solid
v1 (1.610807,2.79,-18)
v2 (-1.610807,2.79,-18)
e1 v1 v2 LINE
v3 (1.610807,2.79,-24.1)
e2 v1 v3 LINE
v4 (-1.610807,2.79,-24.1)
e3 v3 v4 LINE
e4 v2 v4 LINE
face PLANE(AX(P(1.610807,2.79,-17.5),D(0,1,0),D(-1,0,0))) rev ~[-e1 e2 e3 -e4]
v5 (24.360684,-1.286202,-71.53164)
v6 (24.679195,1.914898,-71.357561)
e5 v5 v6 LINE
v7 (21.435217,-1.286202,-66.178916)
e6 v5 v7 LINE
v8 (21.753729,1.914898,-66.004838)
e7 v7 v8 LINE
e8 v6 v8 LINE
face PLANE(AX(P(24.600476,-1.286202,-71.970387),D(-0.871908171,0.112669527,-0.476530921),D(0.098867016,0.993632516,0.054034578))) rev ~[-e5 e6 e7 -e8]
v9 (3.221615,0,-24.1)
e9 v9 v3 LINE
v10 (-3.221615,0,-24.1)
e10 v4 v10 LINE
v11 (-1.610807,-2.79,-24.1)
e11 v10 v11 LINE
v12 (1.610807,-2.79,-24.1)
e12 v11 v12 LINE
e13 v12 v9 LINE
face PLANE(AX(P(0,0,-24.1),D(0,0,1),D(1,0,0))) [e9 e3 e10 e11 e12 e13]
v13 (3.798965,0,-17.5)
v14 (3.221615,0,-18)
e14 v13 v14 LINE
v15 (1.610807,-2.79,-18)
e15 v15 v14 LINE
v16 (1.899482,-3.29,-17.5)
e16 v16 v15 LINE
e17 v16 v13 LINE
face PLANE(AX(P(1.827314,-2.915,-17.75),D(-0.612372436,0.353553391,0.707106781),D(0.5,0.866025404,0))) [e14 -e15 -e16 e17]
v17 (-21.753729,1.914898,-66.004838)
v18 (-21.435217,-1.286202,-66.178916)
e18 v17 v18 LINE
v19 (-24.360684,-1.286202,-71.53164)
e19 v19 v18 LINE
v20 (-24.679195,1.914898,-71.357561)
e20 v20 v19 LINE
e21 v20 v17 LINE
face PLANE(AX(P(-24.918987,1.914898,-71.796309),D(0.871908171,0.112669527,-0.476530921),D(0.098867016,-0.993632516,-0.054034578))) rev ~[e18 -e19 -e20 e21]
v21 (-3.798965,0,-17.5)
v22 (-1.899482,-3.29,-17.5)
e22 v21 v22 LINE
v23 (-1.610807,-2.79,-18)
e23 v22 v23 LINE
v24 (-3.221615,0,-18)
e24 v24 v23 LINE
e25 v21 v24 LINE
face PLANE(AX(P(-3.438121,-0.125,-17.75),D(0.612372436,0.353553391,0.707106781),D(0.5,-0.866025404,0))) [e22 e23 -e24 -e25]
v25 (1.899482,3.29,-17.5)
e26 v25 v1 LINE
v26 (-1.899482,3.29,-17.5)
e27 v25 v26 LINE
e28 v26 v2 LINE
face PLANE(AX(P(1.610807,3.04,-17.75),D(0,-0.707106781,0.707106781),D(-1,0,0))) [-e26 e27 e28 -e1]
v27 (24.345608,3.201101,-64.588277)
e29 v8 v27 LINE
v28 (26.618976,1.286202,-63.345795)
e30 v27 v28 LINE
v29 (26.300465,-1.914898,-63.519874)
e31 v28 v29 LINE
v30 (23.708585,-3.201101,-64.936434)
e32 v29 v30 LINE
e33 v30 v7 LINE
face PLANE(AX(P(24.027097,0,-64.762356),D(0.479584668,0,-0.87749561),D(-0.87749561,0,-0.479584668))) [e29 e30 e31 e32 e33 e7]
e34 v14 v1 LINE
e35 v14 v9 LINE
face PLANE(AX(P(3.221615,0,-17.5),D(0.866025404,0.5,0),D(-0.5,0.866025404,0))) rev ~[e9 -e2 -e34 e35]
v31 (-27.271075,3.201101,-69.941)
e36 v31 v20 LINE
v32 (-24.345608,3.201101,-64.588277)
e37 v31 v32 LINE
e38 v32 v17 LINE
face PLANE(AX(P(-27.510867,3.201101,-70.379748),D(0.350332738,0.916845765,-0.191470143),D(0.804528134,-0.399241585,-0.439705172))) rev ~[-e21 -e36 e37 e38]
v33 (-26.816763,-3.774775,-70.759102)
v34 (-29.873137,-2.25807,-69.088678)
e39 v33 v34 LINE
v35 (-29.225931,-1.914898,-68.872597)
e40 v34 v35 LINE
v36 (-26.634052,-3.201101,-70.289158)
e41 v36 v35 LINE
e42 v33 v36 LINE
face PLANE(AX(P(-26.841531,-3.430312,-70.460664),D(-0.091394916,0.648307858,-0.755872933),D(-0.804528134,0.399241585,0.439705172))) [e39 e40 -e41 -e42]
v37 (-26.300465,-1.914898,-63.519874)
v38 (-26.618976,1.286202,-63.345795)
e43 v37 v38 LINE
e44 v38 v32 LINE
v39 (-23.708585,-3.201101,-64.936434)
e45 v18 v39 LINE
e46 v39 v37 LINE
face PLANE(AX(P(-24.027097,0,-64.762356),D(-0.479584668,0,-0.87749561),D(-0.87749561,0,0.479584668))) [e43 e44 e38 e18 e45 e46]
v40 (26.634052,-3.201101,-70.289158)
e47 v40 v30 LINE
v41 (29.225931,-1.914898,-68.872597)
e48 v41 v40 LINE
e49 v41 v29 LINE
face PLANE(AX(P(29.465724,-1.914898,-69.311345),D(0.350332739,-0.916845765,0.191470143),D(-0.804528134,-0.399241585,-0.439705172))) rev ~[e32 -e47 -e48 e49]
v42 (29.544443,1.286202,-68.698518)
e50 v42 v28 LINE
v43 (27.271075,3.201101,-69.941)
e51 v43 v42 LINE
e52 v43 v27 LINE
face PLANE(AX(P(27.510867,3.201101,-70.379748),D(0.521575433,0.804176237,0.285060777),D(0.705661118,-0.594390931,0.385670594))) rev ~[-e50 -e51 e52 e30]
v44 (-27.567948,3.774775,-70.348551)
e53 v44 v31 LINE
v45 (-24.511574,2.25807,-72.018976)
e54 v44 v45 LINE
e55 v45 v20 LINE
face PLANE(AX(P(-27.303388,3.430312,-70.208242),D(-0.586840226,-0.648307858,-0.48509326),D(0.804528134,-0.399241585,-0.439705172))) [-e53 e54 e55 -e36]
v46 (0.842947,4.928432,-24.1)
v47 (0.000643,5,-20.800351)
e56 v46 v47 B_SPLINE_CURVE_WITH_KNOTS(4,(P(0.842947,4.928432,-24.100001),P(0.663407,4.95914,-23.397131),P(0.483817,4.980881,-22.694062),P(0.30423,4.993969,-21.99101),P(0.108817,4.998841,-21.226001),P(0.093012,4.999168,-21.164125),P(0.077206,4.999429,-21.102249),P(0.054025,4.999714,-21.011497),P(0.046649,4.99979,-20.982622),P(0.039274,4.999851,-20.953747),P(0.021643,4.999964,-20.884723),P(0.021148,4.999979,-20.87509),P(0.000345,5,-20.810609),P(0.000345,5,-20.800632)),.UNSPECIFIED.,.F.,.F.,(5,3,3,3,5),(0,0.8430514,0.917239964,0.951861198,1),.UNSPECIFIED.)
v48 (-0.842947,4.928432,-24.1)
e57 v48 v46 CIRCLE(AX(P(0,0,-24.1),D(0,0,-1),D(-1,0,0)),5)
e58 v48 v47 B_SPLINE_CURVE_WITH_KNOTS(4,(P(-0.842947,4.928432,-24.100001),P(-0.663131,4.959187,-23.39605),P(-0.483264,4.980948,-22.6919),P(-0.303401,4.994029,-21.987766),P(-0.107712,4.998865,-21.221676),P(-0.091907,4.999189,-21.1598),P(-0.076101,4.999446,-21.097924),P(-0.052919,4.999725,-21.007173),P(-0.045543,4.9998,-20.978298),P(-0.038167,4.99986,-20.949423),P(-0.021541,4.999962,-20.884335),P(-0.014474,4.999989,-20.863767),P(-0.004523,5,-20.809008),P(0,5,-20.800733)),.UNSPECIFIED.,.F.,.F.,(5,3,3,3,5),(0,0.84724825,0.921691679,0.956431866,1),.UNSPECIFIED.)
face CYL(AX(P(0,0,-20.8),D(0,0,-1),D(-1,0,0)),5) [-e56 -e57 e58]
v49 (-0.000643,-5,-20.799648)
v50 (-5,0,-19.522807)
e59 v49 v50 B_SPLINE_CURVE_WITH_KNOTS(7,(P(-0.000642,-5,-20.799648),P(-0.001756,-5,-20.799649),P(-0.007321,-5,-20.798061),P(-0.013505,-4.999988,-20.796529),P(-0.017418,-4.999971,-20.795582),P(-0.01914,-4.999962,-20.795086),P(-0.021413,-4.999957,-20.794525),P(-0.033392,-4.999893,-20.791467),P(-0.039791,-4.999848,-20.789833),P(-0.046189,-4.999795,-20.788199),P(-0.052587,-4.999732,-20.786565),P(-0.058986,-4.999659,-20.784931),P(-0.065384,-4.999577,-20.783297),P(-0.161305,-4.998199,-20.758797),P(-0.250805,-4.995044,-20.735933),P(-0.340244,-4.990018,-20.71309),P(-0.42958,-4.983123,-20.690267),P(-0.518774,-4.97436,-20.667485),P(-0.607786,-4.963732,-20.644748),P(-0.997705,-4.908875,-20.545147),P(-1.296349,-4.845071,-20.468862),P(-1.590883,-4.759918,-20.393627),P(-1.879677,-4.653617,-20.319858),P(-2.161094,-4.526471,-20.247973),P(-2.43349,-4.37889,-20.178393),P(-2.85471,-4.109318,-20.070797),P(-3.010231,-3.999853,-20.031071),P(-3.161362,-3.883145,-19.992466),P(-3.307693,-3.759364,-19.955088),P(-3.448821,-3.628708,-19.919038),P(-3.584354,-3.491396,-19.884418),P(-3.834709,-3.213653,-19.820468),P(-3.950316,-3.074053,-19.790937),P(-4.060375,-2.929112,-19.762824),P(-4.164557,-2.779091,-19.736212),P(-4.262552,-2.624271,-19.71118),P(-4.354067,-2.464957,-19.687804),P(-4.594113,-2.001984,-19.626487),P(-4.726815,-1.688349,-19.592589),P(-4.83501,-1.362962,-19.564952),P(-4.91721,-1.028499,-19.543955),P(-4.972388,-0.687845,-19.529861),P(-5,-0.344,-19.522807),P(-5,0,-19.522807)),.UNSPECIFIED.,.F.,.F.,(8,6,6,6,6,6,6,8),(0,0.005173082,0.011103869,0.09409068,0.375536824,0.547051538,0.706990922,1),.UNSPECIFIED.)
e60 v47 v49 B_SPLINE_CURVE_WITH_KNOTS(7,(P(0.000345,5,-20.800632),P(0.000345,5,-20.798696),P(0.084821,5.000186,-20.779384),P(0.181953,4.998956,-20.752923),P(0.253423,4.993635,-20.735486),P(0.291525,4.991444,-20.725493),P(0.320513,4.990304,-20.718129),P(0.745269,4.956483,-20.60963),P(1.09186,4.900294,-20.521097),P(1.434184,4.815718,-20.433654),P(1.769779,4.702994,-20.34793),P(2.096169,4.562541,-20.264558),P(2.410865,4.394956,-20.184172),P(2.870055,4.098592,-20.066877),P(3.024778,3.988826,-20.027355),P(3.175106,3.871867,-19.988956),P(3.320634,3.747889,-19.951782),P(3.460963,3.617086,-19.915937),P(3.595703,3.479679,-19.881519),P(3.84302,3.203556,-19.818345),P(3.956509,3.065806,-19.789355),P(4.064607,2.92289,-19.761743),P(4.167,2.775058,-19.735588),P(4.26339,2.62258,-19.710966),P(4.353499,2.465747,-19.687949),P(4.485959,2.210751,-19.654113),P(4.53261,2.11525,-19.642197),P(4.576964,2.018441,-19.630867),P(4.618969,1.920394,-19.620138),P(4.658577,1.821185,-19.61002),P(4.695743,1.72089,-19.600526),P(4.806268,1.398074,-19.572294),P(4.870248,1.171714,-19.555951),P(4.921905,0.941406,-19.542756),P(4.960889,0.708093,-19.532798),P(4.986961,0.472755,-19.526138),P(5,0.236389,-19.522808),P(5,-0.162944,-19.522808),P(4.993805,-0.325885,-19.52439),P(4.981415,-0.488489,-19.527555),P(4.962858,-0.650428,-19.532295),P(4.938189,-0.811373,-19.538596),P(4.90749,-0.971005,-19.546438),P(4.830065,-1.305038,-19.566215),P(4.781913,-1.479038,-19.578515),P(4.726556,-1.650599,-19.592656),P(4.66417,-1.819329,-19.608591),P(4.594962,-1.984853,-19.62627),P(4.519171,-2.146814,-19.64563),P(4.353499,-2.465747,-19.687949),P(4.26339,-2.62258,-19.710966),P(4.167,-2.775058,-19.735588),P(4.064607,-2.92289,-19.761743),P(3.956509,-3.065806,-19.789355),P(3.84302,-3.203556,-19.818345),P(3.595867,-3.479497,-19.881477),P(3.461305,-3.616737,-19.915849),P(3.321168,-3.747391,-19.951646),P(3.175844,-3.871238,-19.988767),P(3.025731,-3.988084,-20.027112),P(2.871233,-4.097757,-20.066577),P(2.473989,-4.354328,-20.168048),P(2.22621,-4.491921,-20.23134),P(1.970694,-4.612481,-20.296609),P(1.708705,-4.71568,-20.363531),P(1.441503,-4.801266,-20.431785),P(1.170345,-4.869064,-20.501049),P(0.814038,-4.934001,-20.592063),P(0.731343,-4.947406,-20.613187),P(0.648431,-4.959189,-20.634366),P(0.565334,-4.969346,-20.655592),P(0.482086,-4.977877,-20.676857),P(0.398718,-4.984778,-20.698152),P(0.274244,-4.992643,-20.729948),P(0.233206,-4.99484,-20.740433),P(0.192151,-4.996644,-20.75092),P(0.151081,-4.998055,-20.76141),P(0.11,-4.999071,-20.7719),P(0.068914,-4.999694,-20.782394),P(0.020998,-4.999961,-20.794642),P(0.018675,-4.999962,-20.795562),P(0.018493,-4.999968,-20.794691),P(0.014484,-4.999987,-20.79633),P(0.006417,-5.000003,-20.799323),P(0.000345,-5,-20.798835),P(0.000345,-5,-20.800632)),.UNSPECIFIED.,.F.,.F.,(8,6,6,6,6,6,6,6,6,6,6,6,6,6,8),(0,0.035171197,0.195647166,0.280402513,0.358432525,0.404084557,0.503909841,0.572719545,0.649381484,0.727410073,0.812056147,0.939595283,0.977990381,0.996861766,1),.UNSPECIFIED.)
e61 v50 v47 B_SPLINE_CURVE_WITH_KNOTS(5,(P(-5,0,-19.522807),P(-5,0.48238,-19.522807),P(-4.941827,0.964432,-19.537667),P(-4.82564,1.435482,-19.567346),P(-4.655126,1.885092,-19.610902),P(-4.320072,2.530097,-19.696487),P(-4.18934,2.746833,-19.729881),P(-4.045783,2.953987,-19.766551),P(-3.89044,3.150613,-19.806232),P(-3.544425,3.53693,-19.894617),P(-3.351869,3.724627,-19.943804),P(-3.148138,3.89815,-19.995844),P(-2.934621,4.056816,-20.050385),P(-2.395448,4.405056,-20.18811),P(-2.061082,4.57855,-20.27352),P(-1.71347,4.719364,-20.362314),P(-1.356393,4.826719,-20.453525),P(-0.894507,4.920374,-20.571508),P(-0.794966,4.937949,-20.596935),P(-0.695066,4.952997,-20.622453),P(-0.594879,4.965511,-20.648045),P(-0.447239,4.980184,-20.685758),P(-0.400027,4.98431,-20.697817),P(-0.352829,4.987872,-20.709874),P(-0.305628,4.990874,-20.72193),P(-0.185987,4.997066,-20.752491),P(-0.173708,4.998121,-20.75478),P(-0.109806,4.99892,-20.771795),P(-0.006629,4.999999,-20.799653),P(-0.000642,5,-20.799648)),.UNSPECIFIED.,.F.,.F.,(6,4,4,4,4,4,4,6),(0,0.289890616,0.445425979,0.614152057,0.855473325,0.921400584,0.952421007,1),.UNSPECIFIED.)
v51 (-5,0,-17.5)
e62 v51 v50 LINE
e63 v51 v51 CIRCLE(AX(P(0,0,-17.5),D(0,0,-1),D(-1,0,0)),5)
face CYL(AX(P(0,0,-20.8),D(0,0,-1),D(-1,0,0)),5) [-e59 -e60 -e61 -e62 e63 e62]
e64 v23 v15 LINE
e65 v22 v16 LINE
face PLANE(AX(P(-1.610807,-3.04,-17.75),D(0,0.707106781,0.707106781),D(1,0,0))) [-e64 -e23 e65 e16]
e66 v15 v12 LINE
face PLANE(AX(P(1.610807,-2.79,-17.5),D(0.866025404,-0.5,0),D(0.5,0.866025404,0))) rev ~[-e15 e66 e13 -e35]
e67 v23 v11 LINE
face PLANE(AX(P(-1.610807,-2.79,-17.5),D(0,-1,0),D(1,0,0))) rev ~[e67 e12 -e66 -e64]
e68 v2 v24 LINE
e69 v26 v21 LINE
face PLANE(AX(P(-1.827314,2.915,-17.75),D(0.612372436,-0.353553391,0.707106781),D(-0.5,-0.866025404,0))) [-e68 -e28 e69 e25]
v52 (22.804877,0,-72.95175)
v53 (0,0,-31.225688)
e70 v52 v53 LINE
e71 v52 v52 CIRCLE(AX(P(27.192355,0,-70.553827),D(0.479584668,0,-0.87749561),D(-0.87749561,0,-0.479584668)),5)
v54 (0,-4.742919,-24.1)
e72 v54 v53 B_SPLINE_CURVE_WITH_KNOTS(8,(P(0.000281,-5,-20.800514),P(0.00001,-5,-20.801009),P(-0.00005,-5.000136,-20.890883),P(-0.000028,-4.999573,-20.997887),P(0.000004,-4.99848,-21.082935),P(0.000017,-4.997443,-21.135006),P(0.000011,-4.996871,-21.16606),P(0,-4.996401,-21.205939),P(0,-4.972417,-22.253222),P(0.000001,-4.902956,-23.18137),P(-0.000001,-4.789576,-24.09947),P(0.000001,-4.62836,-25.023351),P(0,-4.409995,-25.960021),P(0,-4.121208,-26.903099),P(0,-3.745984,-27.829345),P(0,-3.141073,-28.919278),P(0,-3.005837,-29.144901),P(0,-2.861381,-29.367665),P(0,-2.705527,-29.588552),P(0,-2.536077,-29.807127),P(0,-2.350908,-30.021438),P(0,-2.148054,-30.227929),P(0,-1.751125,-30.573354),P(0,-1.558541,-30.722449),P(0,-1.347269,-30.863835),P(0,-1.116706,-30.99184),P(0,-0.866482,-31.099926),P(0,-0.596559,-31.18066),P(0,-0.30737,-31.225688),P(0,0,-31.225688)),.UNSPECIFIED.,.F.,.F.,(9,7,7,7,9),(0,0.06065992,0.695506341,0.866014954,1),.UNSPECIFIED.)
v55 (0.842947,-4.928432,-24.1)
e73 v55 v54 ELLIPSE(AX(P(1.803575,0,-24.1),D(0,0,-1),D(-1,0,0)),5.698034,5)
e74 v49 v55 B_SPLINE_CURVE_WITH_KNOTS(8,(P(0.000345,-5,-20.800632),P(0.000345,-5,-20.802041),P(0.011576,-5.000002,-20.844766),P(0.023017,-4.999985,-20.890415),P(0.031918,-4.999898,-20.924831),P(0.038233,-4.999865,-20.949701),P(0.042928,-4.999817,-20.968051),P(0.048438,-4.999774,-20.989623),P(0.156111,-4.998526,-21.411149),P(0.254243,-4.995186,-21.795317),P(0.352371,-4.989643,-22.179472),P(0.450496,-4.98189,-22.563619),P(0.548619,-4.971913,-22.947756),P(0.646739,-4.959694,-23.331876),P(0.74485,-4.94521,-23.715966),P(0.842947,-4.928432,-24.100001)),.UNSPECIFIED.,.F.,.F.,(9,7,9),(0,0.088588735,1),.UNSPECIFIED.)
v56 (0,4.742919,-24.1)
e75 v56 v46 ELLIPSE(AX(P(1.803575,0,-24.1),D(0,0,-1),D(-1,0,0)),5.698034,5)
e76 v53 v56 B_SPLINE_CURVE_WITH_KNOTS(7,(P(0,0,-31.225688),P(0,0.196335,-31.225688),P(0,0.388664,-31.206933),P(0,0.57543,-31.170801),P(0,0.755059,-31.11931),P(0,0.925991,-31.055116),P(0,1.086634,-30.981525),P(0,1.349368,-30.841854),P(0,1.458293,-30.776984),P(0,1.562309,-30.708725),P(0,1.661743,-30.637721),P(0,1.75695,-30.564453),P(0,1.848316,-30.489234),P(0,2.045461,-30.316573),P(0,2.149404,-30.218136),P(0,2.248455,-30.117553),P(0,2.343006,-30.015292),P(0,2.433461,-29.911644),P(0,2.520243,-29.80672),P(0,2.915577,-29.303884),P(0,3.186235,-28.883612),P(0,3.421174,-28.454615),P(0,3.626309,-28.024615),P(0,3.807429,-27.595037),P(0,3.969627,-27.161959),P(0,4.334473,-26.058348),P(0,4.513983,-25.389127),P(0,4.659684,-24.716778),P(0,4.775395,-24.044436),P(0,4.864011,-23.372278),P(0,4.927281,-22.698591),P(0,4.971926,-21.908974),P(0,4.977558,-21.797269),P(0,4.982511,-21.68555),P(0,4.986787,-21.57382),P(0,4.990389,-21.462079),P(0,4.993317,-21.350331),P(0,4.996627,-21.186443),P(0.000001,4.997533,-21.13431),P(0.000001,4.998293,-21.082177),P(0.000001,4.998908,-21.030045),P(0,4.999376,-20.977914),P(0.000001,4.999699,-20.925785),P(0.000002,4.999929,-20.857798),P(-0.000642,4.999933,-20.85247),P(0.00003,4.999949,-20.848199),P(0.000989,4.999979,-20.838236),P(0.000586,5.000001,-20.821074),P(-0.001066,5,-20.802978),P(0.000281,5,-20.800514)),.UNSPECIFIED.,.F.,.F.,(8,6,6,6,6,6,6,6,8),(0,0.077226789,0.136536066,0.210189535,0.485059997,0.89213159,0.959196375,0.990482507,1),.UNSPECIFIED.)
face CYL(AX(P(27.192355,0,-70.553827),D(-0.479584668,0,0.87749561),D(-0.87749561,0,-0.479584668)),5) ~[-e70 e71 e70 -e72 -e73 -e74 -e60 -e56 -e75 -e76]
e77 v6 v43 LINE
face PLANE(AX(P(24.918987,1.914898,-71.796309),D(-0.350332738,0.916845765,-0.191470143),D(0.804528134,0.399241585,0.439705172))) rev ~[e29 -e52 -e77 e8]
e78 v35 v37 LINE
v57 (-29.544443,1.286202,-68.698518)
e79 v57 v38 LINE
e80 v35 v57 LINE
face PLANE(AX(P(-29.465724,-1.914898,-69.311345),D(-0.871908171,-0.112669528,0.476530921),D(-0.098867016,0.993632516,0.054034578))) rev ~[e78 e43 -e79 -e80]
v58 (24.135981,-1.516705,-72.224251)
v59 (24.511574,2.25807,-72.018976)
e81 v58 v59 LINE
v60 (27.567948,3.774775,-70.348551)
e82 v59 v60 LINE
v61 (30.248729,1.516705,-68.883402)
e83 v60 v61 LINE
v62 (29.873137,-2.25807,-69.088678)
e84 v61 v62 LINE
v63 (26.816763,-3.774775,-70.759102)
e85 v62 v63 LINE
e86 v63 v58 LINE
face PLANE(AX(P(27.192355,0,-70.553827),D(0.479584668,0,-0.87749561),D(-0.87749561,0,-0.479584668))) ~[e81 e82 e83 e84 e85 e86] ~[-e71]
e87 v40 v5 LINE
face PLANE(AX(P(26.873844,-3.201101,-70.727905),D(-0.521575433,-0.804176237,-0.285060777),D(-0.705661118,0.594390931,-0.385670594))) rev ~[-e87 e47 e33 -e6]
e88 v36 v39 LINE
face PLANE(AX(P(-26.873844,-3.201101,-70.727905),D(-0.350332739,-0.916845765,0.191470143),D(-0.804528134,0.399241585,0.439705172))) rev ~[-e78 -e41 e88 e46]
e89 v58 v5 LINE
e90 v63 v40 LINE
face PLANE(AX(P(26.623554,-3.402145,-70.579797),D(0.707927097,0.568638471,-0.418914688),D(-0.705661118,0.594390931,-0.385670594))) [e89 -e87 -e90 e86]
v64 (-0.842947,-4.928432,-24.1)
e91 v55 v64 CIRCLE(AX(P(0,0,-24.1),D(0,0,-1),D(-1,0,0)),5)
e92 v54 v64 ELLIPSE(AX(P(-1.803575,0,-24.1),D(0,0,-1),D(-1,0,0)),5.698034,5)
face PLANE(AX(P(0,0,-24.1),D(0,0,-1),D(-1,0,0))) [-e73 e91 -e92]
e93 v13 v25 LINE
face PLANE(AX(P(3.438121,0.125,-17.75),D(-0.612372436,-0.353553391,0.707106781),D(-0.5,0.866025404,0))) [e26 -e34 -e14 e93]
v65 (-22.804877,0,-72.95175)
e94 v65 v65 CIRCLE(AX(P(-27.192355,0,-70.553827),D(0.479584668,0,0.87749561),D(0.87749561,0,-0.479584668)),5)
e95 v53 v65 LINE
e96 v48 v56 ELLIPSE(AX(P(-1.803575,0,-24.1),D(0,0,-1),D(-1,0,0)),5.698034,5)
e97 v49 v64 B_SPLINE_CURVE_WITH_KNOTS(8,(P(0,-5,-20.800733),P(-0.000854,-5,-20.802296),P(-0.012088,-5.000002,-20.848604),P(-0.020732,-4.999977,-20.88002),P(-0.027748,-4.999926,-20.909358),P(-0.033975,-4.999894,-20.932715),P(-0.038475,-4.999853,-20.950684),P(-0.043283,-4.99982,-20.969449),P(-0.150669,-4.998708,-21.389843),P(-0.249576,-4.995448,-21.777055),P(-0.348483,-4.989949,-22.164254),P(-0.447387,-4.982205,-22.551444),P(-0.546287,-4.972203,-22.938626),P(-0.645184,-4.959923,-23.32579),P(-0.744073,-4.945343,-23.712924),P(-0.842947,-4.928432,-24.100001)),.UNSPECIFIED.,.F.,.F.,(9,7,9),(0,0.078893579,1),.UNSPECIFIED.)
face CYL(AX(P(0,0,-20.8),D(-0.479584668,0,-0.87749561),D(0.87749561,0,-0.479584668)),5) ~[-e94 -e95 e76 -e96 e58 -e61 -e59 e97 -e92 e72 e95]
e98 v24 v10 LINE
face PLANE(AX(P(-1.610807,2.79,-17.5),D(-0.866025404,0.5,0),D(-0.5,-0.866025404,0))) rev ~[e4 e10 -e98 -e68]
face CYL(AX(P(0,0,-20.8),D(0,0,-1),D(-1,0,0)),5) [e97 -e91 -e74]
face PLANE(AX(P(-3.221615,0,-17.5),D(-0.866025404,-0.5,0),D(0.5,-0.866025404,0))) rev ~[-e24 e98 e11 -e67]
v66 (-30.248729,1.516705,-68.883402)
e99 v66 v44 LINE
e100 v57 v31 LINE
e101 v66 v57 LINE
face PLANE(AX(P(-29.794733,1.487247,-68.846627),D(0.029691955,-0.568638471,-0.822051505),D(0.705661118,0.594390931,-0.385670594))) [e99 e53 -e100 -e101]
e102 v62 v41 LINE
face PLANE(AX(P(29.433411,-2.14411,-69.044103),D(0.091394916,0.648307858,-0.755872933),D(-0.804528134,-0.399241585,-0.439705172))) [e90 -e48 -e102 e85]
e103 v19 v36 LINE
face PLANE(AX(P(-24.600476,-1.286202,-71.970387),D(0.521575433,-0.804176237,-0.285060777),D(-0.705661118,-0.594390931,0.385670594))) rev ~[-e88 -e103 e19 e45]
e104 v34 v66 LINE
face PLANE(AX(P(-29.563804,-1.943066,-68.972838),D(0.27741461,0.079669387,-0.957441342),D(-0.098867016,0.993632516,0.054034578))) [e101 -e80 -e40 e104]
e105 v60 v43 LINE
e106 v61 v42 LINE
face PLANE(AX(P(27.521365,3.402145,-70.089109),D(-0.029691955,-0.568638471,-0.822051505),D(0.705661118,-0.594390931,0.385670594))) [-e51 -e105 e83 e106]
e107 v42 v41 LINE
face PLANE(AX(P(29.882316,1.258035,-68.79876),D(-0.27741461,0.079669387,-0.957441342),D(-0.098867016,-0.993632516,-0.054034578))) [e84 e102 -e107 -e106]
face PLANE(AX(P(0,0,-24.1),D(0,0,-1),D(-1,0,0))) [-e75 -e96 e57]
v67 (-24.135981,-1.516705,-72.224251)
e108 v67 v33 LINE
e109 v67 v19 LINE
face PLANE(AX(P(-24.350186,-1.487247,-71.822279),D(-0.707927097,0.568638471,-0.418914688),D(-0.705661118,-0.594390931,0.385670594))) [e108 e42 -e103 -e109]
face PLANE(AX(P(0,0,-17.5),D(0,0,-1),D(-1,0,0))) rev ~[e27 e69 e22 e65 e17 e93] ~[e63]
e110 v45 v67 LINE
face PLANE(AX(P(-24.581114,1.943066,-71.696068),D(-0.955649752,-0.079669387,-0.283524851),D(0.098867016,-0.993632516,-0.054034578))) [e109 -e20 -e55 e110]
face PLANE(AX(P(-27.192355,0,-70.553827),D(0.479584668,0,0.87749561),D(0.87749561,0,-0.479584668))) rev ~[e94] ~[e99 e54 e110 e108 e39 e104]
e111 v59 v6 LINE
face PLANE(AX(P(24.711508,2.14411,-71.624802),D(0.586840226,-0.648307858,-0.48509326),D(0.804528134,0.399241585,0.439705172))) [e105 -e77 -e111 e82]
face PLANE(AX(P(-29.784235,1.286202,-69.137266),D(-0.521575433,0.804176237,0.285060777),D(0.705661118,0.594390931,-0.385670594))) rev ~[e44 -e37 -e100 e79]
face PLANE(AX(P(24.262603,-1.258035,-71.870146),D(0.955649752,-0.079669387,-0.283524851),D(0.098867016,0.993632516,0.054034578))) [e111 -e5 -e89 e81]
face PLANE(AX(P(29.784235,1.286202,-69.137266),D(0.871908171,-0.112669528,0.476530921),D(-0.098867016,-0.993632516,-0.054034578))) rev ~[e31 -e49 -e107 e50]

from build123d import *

# Parameters (mm, degrees)
SKETCH1_W          = 5
SKETCH1_H          = 6.6
CUT_EXTRUDE2_DEPTH = 6.6
CUT_EXTRUDE3_DEPTH = 6.6
CUT_EXTRUDE4_DEPTH = 6.6
CHAMFER1_SIZE      = 0.5


with BuildPart() as part:
    # Sketch1 → Revolve-Thin1 (revolve)
    with BuildSketch(Plane(origin=(0, 0, 0), x_dir=(1, 0, 0), z_dir=(0, 1, 0))):
        with Locations((-2.5, 20.8)):
            Rectangle(SKETCH1_W, SKETCH1_H)
    revolve(axis=Axis((0, 0, 0), (0, 0, -1)))

    # Sketch3 → Revolve-Thin4 (revolve)
    with BuildSketch(Plane(origin=(0, 0, 0), x_dir=(1, 0, 0), z_dir=(0, 1, 0))):
        Polygon((-27.192355447, 70.553826822), (0, 20.8), (4.387478051, 23.197923342), (-22.804877396, 72.951750164), align=None)
    revolve(axis=Axis((-27.192355447, 0, -70.553826822), (0.479584668, 0, 0.87749561)))

    # Sketch4 → Revolve-Thin3 (revolve)
    with BuildSketch(Plane(origin=(0, 0, 0), x_dir=(1, 0, 0), z_dir=(0, 1, 0))):
        Polygon((0, 20.8), (27.192355447, 70.553826822), (22.804877396, 72.951750164), (-4.387478051, 23.197923342), align=None)
    revolve(axis=Axis((0, 0, -20.8), (0.479584668, 0, -0.87749561)))

    # Sketch6 → Cut-Extrude2 (cut)
    with BuildSketch(Plane.XY.offset(-17.5)):
        Polygon((1.610807251, 2.79), (-1.610807251, 2.79), (-3.221614502, 0), (-1.610807251, -2.79), (1.610807251, -2.79), (3.221614502, 0), align=None)
    extrude(amount=-CUT_EXTRUDE2_DEPTH, mode=Mode.SUBTRACT)

    # Sketch7 → Cut-Extrude3 (cut)
    with BuildSketch(Plane(origin=(35.945691024, 0, -65.769796576), x_dir=(-0.87749561, 0, -0.479584668), z_dir=(0.479584668, 0, -0.87749561))):
        Polygon((7.021637489, 1.286202481), (7.384615273, -1.914898444), (10.338338885, -3.201100925), (12.929084714, -1.286202481), (12.566106931, 1.914898444), (9.612383318, 3.201100925), align=None)
    extrude(amount=-CUT_EXTRUDE3_DEPTH, mode=Mode.SUBTRACT)

    # Sketch8 → Cut-Extrude4 (cut)
    with BuildSketch(Plane(origin=(-35.945691024, 0, -65.769796576), x_dir=(-0.87749561, 0, 0.479584668), z_dir=(-0.479584668, 0, -0.87749561))):
        Polygon((-9.612383318, 3.201100925), (-12.566106931, 1.914898444), (-12.929084714, -1.286202481), (-10.338338885, -3.201100925), (-7.384615273, -1.914898444), (-7.021637489, 1.286202481), align=None)
    extrude(amount=-CUT_EXTRUDE4_DEPTH, mode=Mode.SUBTRACT)

    # Chamfer1
    chamfer1_edges = [part.edges().sort_by_distance(p)[0] for p in [
        (2.416210877, 1.395, -17.5),
        (0, 2.79, -17.5),
        (-2.416210877, 1.395, -17.5),
        (-2.416210877, -1.395, -17.5),
        (0, -2.79, -17.5),
        (2.416210877, -1.395, -17.5),
        (28.647550905, 2.243651703, -69.758507252),
        (29.624979245, -0.314347981, -69.224305553),
        (28.169783788, -2.557999684, -70.019625122),
        (25.73715999, -2.243651703, -71.349146391),
        (24.75973165, 0.314347981, -71.883348091),
        (26.214927107, 2.557999684, -71.088028522),
        (-28.647550905, 2.243651703, -69.758507252),
        (-26.214927107, 2.557999684, -71.088028522),
        (-24.75973165, 0.314347981, -71.883348091),
        (-25.73715999, -2.243651703, -71.349146391),
        (-28.169783788, -2.557999684, -70.019625122),
        (-29.624979245, -0.314347981, -69.224305553),
    ]]
    chamfer(chamfer1_edges, length=CHAMFER1_SIZE)


solid = part.part
